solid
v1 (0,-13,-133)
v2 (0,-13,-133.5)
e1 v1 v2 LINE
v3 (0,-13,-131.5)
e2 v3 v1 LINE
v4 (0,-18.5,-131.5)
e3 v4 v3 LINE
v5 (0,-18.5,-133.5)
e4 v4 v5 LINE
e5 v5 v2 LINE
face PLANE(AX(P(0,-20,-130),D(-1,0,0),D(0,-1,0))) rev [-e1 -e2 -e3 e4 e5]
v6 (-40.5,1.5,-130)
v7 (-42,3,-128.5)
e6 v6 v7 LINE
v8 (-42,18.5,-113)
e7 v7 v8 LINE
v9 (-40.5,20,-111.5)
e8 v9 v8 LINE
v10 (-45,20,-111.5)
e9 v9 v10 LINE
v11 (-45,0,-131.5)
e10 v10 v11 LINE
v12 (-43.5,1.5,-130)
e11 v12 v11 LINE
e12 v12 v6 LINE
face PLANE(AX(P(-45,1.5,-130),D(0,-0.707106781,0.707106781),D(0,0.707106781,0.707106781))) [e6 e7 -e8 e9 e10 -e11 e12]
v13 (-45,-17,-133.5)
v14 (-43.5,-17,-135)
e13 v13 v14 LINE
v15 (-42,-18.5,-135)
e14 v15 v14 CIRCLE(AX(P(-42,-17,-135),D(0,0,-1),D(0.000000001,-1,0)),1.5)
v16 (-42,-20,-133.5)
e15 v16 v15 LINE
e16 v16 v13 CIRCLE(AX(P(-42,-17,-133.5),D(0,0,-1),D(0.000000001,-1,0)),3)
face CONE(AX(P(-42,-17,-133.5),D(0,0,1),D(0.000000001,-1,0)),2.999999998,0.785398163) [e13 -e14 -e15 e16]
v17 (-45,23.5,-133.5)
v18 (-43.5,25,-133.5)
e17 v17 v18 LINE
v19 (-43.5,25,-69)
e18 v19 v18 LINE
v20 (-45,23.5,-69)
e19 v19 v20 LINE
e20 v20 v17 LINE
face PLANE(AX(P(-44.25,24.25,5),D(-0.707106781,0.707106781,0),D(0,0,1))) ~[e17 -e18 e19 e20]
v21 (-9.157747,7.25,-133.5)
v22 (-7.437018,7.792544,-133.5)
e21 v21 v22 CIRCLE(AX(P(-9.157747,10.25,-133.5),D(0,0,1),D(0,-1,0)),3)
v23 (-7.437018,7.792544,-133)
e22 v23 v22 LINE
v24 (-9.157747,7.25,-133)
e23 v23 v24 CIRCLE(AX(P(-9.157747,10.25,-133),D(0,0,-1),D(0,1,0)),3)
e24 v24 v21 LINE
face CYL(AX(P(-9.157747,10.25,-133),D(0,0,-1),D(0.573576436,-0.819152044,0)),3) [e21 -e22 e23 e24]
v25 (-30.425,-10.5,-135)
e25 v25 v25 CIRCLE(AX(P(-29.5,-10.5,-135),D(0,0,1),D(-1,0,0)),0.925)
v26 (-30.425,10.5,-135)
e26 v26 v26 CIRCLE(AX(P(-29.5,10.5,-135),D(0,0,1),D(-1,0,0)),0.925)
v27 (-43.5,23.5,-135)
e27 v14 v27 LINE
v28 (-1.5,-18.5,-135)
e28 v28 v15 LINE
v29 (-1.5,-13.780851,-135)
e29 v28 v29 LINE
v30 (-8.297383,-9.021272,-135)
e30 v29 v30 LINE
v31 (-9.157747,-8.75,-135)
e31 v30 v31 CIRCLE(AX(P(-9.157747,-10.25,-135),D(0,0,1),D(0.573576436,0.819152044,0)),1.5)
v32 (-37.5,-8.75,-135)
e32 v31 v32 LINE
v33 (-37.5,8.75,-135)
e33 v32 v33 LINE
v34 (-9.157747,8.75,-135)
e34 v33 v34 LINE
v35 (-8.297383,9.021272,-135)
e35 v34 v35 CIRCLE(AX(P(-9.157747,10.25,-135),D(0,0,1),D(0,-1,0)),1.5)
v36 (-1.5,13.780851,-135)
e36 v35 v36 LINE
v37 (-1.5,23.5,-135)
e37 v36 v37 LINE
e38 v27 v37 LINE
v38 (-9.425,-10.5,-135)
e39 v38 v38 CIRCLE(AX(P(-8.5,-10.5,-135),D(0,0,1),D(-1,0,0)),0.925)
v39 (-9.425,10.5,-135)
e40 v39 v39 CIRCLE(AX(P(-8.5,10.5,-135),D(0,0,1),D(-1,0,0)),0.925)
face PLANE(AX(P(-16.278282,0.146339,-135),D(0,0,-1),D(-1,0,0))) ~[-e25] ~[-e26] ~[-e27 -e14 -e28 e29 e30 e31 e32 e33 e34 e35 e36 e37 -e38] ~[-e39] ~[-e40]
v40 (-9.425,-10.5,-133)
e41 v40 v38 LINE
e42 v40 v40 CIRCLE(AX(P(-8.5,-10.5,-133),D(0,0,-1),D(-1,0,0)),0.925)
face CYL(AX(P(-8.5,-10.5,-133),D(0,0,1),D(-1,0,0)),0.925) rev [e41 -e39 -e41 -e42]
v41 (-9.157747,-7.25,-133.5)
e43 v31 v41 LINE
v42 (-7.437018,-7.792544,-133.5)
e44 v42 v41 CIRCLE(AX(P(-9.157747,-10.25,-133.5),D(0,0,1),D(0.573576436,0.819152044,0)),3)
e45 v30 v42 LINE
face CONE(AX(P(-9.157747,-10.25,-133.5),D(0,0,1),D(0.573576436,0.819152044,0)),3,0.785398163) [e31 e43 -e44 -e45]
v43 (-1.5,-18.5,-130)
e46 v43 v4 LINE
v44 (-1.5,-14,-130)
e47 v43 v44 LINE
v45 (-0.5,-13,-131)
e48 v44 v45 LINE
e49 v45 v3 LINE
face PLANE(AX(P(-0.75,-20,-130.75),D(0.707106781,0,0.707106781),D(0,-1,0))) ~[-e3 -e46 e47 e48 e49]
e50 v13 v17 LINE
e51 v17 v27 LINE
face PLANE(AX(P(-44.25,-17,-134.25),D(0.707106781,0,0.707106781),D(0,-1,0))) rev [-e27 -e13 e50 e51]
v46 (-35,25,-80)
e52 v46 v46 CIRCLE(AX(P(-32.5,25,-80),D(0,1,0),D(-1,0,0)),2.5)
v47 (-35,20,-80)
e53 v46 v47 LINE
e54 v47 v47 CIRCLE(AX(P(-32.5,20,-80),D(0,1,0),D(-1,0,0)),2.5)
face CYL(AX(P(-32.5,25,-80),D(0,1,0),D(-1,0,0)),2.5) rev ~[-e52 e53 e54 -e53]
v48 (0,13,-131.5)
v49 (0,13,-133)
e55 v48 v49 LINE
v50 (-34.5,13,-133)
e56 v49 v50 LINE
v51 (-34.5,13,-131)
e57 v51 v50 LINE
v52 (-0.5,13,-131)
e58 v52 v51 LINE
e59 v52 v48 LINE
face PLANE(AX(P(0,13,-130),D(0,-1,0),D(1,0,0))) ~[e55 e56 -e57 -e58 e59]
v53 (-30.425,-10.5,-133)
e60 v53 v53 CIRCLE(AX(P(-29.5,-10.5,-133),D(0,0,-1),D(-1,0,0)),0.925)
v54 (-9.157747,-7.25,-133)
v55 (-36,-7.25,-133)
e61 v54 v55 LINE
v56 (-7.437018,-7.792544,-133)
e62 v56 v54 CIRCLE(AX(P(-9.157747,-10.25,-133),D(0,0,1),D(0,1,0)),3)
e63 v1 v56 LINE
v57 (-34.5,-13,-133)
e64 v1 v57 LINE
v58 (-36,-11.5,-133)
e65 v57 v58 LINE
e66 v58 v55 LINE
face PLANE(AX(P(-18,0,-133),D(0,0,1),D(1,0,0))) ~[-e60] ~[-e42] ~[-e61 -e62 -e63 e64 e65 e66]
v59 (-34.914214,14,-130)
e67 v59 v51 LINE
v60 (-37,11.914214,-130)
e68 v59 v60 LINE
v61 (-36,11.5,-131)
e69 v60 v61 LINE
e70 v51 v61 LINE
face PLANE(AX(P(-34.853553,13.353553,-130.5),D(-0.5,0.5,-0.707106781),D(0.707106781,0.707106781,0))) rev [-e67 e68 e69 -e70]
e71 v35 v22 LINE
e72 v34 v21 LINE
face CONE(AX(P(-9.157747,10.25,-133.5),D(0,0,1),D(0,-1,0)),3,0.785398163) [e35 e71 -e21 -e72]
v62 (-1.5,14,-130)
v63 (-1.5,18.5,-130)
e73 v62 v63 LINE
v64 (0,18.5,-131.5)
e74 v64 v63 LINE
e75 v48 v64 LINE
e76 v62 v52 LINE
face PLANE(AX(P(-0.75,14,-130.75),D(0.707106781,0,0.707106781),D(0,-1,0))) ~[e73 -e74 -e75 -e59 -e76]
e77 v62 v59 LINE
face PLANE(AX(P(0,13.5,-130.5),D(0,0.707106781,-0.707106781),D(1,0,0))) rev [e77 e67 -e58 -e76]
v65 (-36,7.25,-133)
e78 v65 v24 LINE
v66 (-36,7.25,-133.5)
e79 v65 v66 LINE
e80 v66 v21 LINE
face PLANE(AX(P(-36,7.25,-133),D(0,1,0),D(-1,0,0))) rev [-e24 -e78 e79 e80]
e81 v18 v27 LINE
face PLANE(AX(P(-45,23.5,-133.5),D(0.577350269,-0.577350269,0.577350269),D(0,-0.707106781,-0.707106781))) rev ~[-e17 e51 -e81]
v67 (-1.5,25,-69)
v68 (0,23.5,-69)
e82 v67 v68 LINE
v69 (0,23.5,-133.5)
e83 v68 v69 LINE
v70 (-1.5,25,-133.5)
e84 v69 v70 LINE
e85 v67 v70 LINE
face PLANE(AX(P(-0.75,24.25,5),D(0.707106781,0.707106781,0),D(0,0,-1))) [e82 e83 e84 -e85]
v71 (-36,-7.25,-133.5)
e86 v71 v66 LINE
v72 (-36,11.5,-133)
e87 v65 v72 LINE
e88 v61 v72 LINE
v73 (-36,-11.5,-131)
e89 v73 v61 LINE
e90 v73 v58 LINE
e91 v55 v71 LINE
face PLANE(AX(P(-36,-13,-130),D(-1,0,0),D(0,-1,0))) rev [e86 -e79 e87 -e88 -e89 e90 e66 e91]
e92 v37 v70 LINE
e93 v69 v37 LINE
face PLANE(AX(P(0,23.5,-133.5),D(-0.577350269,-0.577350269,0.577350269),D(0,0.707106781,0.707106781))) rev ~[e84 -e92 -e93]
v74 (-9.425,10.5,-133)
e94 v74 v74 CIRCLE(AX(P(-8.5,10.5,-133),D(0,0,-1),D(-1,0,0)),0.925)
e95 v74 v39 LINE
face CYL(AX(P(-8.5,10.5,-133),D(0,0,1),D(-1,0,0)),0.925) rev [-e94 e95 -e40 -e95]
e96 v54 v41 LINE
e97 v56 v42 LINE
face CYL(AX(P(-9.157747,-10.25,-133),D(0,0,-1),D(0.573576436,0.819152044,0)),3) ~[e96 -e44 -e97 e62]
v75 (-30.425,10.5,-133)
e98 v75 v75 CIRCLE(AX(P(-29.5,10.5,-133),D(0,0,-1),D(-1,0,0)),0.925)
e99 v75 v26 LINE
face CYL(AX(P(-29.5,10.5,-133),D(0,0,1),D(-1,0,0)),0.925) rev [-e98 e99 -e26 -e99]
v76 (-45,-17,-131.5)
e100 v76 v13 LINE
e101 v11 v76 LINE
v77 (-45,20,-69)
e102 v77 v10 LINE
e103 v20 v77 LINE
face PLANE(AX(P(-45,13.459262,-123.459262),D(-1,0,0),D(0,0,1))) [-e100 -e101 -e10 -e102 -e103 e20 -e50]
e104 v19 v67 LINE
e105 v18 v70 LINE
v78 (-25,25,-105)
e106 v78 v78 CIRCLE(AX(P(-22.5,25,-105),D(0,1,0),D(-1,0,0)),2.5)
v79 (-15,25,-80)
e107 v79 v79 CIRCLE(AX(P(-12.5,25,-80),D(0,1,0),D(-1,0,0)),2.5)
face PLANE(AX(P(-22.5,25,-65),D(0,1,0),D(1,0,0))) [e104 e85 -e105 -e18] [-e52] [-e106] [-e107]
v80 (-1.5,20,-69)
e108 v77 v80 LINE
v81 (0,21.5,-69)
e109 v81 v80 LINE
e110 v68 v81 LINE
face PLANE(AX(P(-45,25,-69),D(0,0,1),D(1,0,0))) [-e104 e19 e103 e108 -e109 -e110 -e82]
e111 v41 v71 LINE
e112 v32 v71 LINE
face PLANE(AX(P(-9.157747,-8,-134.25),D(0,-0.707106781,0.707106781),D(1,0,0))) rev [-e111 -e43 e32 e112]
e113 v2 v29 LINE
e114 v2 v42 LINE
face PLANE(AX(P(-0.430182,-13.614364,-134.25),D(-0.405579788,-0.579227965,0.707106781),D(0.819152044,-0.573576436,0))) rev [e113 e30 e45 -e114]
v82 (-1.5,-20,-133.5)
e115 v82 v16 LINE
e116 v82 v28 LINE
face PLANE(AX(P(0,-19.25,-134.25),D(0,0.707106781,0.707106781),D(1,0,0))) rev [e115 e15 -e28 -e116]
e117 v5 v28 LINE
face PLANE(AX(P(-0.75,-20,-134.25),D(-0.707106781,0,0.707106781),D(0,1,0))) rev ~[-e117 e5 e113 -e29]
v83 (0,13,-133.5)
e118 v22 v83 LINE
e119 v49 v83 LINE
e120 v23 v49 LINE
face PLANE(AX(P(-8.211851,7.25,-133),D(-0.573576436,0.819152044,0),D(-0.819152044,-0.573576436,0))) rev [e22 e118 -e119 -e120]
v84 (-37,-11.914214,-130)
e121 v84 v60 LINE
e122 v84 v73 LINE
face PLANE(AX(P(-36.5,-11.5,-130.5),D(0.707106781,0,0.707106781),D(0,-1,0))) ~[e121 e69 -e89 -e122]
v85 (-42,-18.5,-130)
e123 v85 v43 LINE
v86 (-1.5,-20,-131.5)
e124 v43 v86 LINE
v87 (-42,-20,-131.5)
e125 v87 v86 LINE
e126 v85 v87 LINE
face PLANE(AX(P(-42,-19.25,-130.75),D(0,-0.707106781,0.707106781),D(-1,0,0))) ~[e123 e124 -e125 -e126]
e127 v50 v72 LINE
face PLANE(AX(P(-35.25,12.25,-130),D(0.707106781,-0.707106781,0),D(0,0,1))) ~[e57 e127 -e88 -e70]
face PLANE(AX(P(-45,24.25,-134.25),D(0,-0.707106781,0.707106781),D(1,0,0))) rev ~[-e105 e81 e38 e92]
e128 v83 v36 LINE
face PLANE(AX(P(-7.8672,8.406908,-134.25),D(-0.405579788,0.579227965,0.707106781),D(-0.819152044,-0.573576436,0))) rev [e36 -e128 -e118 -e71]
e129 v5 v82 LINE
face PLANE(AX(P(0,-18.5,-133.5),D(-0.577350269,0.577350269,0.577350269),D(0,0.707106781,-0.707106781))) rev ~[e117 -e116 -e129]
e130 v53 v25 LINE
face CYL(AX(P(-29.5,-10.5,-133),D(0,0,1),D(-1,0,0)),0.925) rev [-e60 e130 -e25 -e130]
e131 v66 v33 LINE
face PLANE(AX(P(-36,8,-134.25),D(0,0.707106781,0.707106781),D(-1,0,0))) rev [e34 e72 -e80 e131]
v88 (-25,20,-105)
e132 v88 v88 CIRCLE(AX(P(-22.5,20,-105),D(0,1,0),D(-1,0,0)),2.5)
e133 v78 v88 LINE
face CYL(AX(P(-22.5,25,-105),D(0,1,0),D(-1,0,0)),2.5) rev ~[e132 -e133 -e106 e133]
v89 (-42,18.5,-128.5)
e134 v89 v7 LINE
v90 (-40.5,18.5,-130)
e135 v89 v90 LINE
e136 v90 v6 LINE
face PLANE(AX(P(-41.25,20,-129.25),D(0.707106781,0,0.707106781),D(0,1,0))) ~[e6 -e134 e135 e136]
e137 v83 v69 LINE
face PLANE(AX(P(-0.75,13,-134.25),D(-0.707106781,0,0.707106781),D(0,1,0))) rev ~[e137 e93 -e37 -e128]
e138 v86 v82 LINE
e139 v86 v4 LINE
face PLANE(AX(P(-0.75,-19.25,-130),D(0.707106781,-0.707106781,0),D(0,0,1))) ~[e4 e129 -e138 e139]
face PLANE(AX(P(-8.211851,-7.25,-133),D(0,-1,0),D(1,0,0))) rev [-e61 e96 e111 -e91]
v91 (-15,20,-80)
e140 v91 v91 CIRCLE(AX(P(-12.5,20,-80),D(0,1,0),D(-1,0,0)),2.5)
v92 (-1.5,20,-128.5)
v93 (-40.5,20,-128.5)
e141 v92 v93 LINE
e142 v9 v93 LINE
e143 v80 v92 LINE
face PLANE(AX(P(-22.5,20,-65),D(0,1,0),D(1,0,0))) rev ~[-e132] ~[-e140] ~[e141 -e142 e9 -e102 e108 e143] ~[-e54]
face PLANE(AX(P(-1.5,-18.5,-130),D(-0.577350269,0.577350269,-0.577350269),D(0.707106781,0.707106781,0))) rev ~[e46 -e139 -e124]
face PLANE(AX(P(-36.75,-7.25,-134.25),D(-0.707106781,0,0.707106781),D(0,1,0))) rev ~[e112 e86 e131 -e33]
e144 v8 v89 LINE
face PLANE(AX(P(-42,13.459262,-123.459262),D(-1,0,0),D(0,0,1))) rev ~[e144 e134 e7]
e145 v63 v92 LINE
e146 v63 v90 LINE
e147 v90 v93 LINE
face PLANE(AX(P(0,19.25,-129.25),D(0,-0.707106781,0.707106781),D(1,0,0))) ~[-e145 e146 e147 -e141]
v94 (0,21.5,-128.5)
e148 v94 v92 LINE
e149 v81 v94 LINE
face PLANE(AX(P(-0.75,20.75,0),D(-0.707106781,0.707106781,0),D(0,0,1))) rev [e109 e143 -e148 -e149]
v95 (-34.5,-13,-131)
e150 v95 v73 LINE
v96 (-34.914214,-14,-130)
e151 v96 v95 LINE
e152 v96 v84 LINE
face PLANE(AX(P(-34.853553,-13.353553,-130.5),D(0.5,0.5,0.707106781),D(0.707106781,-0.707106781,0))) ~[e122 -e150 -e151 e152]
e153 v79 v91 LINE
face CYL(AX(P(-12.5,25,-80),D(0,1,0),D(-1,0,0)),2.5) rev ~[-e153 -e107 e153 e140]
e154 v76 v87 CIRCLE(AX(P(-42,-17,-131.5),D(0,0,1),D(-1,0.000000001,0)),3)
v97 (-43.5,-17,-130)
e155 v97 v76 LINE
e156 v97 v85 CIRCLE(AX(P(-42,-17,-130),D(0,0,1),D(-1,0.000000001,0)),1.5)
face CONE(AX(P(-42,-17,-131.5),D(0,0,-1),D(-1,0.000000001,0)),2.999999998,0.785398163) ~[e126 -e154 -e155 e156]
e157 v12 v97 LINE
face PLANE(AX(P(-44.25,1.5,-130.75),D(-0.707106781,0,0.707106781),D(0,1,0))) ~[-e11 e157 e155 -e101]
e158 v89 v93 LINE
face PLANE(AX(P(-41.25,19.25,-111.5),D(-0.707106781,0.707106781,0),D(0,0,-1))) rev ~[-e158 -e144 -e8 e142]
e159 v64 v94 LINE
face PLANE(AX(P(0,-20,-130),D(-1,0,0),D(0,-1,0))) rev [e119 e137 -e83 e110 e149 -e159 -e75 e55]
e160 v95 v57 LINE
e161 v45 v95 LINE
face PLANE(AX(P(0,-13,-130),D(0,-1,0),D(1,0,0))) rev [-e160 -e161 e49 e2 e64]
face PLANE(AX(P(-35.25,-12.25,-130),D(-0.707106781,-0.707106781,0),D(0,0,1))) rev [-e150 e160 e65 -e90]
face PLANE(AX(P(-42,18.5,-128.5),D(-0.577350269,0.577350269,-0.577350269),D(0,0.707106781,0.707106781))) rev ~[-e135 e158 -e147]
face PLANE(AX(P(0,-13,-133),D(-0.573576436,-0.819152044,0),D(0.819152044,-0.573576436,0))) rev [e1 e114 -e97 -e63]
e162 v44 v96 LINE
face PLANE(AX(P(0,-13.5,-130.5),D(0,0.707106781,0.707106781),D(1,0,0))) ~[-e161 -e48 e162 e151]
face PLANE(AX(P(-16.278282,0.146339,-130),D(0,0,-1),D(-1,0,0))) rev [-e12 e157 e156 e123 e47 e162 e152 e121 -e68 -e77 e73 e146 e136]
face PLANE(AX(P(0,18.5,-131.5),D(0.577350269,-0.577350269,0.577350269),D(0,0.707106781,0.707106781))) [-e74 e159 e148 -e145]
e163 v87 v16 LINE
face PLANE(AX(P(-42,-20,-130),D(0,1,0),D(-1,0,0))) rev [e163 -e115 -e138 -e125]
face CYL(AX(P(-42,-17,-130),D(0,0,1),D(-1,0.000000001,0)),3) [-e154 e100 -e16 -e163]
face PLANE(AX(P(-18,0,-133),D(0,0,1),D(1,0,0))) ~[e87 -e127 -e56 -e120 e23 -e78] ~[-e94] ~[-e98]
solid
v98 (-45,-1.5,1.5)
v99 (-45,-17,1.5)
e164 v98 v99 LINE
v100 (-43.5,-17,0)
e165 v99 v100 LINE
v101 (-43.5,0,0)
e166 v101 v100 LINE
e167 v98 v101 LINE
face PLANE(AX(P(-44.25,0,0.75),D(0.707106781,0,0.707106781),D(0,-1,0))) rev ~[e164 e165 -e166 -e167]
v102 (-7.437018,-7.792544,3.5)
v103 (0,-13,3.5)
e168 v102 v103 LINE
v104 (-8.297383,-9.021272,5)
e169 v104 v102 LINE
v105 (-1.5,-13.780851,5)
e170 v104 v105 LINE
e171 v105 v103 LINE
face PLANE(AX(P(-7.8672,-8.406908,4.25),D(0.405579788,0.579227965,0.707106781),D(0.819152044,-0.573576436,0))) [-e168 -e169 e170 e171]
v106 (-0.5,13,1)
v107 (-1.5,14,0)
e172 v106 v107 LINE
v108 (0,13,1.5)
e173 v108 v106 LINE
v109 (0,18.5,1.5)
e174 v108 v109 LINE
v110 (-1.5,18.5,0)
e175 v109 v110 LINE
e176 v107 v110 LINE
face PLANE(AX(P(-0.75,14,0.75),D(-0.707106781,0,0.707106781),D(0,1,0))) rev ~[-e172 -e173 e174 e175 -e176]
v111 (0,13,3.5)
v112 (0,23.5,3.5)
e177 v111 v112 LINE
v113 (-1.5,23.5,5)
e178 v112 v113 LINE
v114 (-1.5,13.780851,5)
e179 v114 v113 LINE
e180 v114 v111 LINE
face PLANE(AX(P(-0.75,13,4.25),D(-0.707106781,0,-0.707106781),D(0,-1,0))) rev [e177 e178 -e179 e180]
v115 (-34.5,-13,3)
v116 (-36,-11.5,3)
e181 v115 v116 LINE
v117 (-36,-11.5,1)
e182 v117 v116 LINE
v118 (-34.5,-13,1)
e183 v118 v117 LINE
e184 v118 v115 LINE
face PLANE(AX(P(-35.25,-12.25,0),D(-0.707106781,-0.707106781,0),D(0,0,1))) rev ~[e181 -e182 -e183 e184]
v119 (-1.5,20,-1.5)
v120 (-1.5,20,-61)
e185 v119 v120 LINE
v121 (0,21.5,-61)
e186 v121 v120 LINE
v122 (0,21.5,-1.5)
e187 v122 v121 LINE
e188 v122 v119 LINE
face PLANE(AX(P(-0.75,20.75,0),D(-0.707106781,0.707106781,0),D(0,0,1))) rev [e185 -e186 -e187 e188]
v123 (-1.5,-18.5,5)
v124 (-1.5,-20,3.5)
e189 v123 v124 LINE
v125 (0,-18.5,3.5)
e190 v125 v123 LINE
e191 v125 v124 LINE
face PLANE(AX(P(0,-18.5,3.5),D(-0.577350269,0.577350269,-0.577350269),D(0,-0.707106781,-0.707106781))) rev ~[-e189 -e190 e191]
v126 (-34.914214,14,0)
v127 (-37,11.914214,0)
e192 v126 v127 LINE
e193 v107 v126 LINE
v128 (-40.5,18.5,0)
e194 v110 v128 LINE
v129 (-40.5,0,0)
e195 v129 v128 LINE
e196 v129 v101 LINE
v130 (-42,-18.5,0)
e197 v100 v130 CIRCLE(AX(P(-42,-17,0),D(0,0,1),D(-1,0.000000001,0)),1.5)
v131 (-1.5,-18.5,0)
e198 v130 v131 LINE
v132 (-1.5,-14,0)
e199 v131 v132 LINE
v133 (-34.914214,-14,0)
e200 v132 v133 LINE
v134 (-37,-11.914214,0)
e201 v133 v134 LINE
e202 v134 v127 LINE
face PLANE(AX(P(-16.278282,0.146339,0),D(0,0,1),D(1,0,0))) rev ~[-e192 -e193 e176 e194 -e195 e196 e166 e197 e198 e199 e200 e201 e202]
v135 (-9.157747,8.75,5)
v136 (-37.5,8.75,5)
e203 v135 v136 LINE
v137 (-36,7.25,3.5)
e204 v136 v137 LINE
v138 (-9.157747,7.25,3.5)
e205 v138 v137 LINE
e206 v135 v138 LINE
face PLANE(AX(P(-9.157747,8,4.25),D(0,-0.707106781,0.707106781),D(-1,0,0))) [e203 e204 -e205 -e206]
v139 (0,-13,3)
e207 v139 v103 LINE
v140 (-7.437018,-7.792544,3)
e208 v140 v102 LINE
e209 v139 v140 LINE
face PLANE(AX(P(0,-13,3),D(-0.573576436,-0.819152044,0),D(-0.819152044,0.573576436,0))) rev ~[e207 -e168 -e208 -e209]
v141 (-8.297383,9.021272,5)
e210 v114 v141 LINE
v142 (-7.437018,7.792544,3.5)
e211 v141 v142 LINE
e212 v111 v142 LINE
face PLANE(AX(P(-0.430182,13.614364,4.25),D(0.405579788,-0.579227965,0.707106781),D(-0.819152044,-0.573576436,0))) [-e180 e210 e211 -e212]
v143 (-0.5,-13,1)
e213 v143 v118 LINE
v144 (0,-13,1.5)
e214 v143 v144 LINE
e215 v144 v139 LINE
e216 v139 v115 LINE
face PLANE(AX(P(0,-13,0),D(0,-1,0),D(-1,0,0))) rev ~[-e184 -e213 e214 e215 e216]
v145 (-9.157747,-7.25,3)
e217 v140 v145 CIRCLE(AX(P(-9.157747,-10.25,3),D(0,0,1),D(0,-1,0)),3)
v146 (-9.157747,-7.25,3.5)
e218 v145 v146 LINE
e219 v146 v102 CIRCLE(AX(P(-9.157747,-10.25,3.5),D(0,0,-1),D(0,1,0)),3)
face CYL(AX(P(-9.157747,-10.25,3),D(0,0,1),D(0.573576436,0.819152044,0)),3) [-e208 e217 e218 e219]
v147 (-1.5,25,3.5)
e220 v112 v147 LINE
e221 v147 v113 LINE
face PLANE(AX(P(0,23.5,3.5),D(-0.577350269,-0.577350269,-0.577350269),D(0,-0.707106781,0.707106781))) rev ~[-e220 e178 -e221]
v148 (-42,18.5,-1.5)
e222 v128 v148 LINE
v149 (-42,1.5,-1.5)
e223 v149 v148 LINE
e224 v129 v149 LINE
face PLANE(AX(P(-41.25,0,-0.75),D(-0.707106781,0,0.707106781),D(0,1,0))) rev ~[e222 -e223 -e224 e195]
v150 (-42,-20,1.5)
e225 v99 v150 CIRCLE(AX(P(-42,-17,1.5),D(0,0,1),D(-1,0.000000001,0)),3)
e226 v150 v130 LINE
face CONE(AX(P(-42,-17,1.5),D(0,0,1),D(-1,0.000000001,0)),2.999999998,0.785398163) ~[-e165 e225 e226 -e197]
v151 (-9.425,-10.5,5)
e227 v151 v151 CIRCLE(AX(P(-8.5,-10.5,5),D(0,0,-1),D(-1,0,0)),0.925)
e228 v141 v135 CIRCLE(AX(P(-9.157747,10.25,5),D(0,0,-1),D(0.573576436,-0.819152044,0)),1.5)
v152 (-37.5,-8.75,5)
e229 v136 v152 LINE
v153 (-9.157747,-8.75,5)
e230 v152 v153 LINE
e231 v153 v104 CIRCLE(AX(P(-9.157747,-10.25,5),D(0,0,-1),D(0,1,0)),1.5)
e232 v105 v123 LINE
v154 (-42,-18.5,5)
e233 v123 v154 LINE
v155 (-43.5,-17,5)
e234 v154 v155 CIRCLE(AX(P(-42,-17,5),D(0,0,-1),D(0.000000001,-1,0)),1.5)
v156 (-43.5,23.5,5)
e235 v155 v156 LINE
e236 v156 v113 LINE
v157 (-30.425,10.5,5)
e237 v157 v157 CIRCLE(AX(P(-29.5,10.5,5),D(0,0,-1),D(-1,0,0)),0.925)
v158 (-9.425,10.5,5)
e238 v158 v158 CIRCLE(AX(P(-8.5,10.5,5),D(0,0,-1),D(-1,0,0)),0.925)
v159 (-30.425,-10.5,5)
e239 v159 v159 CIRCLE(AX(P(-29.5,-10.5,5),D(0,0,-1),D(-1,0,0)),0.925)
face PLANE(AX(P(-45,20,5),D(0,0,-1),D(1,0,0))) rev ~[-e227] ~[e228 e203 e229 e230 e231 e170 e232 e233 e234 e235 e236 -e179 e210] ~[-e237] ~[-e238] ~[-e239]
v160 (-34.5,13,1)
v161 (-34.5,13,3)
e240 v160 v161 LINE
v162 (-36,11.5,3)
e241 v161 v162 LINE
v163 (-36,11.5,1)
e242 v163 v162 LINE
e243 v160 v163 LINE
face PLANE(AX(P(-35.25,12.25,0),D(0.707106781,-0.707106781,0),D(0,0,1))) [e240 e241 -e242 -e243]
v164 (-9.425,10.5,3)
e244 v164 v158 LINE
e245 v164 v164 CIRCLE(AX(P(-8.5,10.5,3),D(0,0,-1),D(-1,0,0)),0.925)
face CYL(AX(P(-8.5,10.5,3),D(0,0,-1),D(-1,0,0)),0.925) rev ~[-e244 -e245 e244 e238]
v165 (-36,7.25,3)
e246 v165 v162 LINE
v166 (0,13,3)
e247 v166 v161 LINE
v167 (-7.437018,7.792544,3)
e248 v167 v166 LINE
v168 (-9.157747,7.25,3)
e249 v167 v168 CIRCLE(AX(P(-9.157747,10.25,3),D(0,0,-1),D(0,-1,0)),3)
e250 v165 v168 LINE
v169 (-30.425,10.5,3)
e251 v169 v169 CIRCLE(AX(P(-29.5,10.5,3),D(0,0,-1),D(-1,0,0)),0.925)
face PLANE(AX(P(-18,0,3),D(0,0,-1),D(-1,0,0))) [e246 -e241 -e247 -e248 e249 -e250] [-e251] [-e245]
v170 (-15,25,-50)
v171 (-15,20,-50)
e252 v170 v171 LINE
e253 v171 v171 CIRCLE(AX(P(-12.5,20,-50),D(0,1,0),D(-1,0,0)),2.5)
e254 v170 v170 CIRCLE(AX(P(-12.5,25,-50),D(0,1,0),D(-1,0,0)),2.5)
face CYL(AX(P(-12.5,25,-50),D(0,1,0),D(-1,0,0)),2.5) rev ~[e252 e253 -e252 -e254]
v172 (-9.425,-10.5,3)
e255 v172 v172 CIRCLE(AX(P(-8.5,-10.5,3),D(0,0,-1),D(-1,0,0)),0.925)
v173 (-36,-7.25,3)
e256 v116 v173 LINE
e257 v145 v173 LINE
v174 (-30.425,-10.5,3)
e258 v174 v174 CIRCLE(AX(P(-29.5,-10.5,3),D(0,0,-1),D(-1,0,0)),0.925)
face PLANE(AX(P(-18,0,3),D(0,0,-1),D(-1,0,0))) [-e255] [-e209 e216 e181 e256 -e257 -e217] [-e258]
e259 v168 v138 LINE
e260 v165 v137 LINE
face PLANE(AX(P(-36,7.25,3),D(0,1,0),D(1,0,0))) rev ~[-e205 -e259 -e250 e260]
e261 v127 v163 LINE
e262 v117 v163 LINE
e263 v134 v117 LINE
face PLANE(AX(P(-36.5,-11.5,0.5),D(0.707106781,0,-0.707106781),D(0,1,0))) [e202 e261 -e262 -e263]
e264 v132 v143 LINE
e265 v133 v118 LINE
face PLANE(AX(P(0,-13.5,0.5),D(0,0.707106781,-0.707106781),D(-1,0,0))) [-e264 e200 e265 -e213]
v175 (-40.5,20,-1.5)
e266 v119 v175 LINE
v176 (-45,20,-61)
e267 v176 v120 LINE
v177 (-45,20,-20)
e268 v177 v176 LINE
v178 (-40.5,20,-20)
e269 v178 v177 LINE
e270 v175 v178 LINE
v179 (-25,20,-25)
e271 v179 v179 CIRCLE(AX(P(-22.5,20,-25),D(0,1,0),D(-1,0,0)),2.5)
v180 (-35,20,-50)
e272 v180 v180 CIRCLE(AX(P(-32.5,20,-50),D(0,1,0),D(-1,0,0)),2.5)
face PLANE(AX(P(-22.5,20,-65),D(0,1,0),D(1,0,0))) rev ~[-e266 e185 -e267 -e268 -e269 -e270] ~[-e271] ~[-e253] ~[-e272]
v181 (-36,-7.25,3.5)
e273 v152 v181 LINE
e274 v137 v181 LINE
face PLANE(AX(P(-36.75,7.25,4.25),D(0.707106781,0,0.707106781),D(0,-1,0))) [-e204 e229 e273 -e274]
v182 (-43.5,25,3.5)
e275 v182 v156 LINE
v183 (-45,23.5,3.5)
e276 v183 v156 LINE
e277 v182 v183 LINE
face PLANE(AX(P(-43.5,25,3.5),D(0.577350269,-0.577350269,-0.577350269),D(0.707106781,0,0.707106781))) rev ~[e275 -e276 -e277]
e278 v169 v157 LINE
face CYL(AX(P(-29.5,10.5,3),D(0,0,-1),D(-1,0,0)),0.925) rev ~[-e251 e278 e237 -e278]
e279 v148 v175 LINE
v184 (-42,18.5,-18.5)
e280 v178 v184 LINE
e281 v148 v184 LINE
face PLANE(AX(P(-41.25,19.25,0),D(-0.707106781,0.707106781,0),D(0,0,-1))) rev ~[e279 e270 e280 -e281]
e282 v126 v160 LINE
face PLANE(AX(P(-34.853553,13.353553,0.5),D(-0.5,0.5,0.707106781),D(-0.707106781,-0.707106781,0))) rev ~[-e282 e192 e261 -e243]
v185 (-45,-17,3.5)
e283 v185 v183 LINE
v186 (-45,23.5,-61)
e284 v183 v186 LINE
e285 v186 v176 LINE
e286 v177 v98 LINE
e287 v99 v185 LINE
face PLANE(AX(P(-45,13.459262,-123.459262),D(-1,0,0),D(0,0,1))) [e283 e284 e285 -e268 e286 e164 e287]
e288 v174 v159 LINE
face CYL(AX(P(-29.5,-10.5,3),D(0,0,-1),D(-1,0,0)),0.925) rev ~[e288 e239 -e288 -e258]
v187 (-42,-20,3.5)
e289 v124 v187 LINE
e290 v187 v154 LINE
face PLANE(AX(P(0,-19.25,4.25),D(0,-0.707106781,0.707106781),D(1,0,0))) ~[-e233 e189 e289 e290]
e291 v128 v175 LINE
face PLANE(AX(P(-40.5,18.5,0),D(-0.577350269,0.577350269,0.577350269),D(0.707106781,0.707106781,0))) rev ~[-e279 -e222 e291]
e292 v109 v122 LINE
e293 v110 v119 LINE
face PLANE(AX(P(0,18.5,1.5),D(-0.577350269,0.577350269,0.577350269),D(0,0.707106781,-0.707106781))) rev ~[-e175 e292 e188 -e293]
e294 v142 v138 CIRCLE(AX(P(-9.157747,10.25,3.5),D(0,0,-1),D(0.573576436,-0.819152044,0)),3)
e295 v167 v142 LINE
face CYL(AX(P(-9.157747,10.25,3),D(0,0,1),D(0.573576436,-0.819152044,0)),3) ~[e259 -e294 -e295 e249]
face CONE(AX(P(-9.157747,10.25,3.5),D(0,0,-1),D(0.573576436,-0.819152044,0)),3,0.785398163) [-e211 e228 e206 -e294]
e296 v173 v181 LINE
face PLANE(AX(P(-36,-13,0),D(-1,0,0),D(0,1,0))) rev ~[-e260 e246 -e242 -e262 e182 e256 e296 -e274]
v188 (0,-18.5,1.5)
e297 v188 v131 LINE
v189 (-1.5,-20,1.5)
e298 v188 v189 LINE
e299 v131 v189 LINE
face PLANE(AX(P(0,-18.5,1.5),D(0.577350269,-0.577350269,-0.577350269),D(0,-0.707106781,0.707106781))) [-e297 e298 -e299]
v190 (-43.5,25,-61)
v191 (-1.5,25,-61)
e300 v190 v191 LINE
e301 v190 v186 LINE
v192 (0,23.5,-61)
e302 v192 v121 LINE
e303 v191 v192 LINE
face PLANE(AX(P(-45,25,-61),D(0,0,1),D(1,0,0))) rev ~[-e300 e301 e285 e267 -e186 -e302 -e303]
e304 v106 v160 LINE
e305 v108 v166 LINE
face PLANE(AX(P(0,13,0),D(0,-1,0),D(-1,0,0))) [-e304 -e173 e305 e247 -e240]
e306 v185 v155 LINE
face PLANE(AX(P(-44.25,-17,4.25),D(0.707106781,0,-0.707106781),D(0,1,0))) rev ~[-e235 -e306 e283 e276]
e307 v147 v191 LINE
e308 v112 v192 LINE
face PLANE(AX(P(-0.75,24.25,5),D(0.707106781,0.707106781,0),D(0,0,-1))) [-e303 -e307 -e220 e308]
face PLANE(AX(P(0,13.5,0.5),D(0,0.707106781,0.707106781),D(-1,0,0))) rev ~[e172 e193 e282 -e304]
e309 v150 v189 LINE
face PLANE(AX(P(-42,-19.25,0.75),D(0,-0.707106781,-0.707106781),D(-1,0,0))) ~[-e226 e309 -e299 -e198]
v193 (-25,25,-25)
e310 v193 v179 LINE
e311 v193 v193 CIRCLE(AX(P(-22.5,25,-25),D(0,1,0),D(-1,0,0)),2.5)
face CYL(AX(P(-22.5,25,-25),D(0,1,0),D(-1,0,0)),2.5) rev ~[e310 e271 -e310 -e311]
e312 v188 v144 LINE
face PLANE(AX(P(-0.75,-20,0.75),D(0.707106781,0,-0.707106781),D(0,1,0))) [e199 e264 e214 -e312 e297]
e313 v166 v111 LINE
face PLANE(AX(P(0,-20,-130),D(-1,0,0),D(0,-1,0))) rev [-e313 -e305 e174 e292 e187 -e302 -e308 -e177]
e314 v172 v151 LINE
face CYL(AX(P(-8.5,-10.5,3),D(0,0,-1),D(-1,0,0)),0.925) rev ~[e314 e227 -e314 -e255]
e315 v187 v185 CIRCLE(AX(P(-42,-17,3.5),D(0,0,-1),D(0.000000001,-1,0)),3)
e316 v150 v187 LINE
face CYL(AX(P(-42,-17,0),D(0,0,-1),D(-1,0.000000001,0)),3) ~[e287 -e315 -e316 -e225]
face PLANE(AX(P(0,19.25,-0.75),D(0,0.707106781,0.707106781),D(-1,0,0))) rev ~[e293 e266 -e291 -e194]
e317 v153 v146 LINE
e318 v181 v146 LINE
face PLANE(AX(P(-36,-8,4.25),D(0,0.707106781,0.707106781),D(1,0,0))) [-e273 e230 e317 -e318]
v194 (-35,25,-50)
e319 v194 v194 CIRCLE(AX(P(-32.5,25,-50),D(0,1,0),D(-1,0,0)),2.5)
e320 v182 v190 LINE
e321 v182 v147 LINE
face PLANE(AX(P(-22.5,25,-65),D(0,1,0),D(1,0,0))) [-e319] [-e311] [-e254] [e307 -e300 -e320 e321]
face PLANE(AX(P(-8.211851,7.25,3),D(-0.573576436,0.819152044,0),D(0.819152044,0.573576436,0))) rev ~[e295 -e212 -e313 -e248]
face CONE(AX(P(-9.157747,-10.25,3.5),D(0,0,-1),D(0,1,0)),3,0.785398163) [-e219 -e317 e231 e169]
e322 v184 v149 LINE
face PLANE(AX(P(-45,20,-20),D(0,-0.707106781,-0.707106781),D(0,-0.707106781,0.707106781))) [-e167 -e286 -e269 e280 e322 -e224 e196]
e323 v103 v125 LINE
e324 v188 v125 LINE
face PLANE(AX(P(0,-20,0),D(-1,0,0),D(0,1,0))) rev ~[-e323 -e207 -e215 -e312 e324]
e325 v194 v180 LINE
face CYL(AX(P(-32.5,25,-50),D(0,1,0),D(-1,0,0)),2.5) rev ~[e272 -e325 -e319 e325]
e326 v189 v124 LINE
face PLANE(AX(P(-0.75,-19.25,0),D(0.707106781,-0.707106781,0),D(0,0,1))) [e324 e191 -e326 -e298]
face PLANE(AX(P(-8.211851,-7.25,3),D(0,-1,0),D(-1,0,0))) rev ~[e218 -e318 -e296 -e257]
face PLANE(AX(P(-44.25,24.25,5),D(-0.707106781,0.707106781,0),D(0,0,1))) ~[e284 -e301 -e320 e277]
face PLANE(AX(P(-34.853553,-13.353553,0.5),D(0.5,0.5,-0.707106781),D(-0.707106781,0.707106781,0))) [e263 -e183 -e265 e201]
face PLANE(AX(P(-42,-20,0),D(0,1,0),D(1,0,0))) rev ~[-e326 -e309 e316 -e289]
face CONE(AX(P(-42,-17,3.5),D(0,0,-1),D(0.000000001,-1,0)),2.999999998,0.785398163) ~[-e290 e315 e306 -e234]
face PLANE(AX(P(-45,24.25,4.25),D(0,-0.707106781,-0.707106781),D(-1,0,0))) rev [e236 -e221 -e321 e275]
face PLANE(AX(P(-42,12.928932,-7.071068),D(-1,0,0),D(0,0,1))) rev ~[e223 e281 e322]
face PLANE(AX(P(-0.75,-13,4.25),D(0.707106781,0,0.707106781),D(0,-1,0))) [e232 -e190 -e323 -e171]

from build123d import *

# Parameters (mm, degrees)
EXTRUDE_1_DEPTH            = 5
SKETCH_2_W                 = 36
SKETCH_2_H                 = 26
CUT_EXTRUDE_1_DEPTH        = 3
CUT_EXTRUDE_2_DEPTH        = 50.497474683
SKETCH_4_R                 = 0.925
CUT_EXTRUDE_3_DEPTH        = 50.335585534
CHAMFER_1_SIZE             = 1.5
CHAMFER_2_SIZE             = 1
FILLET_3_R                 = 3
SKETCH_7_W                 = 45
SKETCH_7_H                 = 140
EXTRUDE_2_DEPTH            = 5
SKETCH_9_R                 = 2.5
CUT_EXTRUDE_5_DEPTH        = 150.248115566
CHAMFER_1_OF_MIRROR_1_SIZE = 1.5
CHAMFER_2_OF_MIRROR_1_SIZE = 1
FILLET_3_OF_MIRROR_1_R     = 3
EXTRUDE_3_DEPTH            = 3
CHAMFER_4_SIZE             = 1.5
SKETCH_12_W                = 45
SKETCH_12_H                = 8
CUT_EXTRUDE_6_DEPTH        = 150.248115566


with BuildPart() as part:
    # 草图1 → 凸台-拉伸1 (new body)
    with BuildSketch(Plane.XY):
        with BuildLine():
            Line((-42, -20), (0, -20))
            ThreePointArc((0, -20), (20, 0), (0, 20))
            Line((0, 20), (-45, 20))
            Line((-45, 20), (-45, -17))
            ThreePointArc((-45, -17), (-44.121320344, -19.121320344), (-42, -20))
        make_face()
    extrude_1 = extrude(amount=EXTRUDE_1_DEPTH)

    # 草图2 → 切除-拉伸1 (cut)
    with BuildSketch(Plane(origin=(0, 0, 0), x_dir=(-1, 0, 0), z_dir=(0, 0, -1))):
        with Locations((18, 0)):
            Rectangle(SKETCH_2_W, SKETCH_2_H)
    cut_extrude_1 = extrude(amount=-CUT_EXTRUDE_1_DEPTH, mode=Mode.SUBTRACT)

    # 草图3 → 切除-拉伸2 (cut, through all)
    with BuildSketch(Plane(origin=(0, 0, 0), x_dir=(-1, 0, 0), z_dir=(0, 0, -1))):
        with BuildLine():
            Line((0, -20), (0, 20))
            ThreePointArc((0, 20), (-20, 0), (0, -20))
        make_face()
    cut_extrude_2 = extrude(amount=-CUT_EXTRUDE_2_DEPTH, mode=Mode.SUBTRACT)

    # 草图4 → 切除-拉伸3 (cut, through all)
    with BuildSketch(Plane(origin=(0, 0, 3), x_dir=(-1, 0, 0), z_dir=(0, 0, -1))):
        with Locations((8.5, 10.5)):
            Circle(SKETCH_4_R)
        with Locations((8.5, -10.5)):
            Circle(SKETCH_4_R)
        with Locations((29.5, 10.5)):
            Circle(SKETCH_4_R)
        with Locations((29.5, -10.5)):
            Circle(SKETCH_4_R)
        Polygon((8.211851039, -7.25), (36, -7.25), (36, 7.25), (8.211851039, 7.25), (0, 13), (0, -13), align=None)
    cut_extrude_3 = extrude(amount=-CUT_EXTRUDE_3_DEPTH, mode=Mode.SUBTRACT)

    # 倒角1
    chamfer_1_edges = [part.edges().sort_by_distance(p)[0] for p in [
        (-36, 13, 1.5),
        (-36, -13, 1.5),
    ]]
    chamfer(chamfer_1_edges, length=CHAMFER_1_SIZE)

    # 倒角2
    chamfer_2_edges = [part.edges().sort_by_distance(p)[0] for p in [
        (-17.25, -13, 0),
        (-17.25, 13, 0),
        (-36, 0, 0),
        (-35.25, 12.25, 0),
        (-35.25, -12.25, 0),
    ]]
    chamfer(chamfer_2_edges, length=CHAMFER_2_SIZE)

    # 圆角3
    fillet_3_edges = [part.edges().sort_by_distance(p)[0] for p in [
        (-8.211851039, 7.25, 4),
        (-8.211851039, -7.25, 4),
    ]]
    fillet(fillet_3_edges, radius=FILLET_3_R)

    # 草图7 → 凸台-拉伸2 (add)
    with BuildSketch(Plane(origin=(0, 20, 0), x_dir=(1, 0, 0), z_dir=(0, 1, 0))):
        with Locations((-22.5, 65)):
            Rectangle(SKETCH_7_W, SKETCH_7_H)
    extrude(amount=EXTRUDE_2_DEPTH)

    # 草图9 → 切除-拉伸5 (cut, through all)
    with BuildSketch(Plane(origin=(0, 25, 0), x_dir=(1, 0, 0), z_dir=(0, 1, 0))):
        with Locations(Location((-12.5, 80, 0), (0, 0, 180))):
            Circle(SKETCH_9_R)
        with Locations(Location((-32.5, 80, 0), (0, 0, 180))):
            Circle(SKETCH_9_R)
        with Locations(Location((-32.5, 50, 0), (0, 0, 180))):
            Circle(SKETCH_9_R)
        with Locations(Location((-12.5, 50, 0), (0, 0, 180))):
            Circle(SKETCH_9_R)
        with Locations(Location((-22.5, 25, 0), (0, 0, 180))):
            Circle(SKETCH_9_R)
        with Locations(Location((-22.5, 105, 0), (0, 0, 180))):
            Circle(SKETCH_9_R)
    extrude(amount=-CUT_EXTRUDE_5_DEPTH, mode=Mode.SUBTRACT)

    # 镜向1: 凸台-拉伸1, 切除-拉伸1, 切除-拉伸2, 切除-拉伸3 across plane
    add(extrude_1.mirror(Plane.XY.offset(-65)))
    add(cut_extrude_1.mirror(Plane.XY.offset(-65)), mode=Mode.SUBTRACT)
    add(cut_extrude_2.mirror(Plane.XY.offset(-65)), mode=Mode.SUBTRACT)
    add(cut_extrude_3.mirror(Plane.XY.offset(-65)), mode=Mode.SUBTRACT)

    # 倒角1 of 镜向1
    chamfer_1_of_mirror_1_edges = [part.edges().sort_by_distance(p)[0] for p in [
        (-36, 13, -131.5),
        (-36, -13, -131.5),
    ]]
    chamfer(chamfer_1_of_mirror_1_edges, length=CHAMFER_1_OF_MIRROR_1_SIZE)

    # 倒角2 of 镜向1
    chamfer_2_of_mirror_1_edges = [part.edges().sort_by_distance(p)[0] for p in [
        (-17.25, -13, -130),
        (-17.25, 13, -130),
        (-36, 0, -130),
        (-35.25, 12.25, -130),
        (-35.25, -12.25, -130),
    ]]
    chamfer(chamfer_2_of_mirror_1_edges, length=CHAMFER_2_OF_MIRROR_1_SIZE)

    # 圆角3 of 镜向1
    fillet_3_of_mirror_1_edges = [part.edges().sort_by_distance(p)[0] for p in [
        (-8.211851039, 7.25, -134),
        (-8.211851039, -7.25, -134),
    ]]
    fillet(fillet_3_of_mirror_1_edges, radius=FILLET_3_OF_MIRROR_1_R)

    # 草图11 → 凸台-拉伸3 (add)
    with BuildSketch(Plane.ZY.offset(45)):
        Polygon((-130, 20), (-130, 1.5), (-111.5, 20), align=None)
        Polygon((0, 20), (-20, 20), (0, 0), align=None)
    extrude(amount=-EXTRUDE_3_DEPTH)

    # 倒角4
    chamfer_4_edges = [part.edges().sort_by_distance(p)[0] for p in [
        (-22.578873703, -7.25, 5),
        (-3.718509048, 10.396271934, 5),
        (-8.255630007, 7.388849148, 5),
        (-8.255630007, -7.388849148, 5),
        (-45, 4, 5),
        (0, 20, -65),
        (-22.5, 25, -135),
        (0, 19, -135),
        (-45, 25, -65),
        (-45, 4, -135),
        (-22.5, 25, 5),
        (0, 25, -65),
        (-44.121320344, -19.121320344, 5),
        (-21, -20, -135),
        (0, -20, -132.5),
        (-44.121320344, -19.121320344, -135),
        (-21, 20, -130),
        (-44.121320344, -19.121320344, -130),
        (-21, -20, -130),
        (0, -17, -130),
        (-21, -20, 5),
        (0, -16.5, -135),
        (-3.718509048, -10.396271934, -135),
        (-36, 0, -135),
        (-22.578873703, 7.25, -135),
        (0, 17, -130),
        (-22.578873703, -7.25, -135),
        (-3.718509048, 10.396271934, -135),
        (-8.255630007, 7.388849148, -135),
        (-8.255630007, -7.388849148, -135),
        (-45, -8.5, 0),
        (-42, 20, -10),
        (-42, 10, 0),
        (-45, -7.75, -130),
        (-42, 10.75, -130),
        (-42, 20, -120.75),
        (0, -16.5, 5),
        (0, -17, 0),
        (0, 19, 5),
        (-21, -20, 0),
        (-22.578873703, 7.25, 5),
        (-36, 0, 5),
        (-3.718509048, -10.396271934, 5),
        (-44.121320344, -19.121320344, 0),
        (-21, 20, 0),
        (0, -20, 2.5),
        (0, 17, 0),
    ]]
    chamfer(chamfer_4_edges, length=CHAMFER_4_SIZE)

    # 草图12 → 切除-拉伸6 (cut, through all)
    with BuildSketch(Plane(origin=(0, 25, 0), x_dir=(1, 0, 0), z_dir=(0, 1, 0))):
        with Locations((-22.5, 65)):
            Rectangle(SKETCH_12_W, SKETCH_12_H)
    extrude(amount=-CUT_EXTRUDE_6_DEPTH, mode=Mode.SUBTRACT)


with BuildPart() as cut_extrude_6_piece_1:
    # of the separate pieces the step leaves, piece 1, a body of its own (cut_extrude_6_pieces)
    add(part.part.solids().sort_by_distance((0, 23.5, -61))[0])


with BuildPart() as cut_extrude_6_piece_2:
    # of the separate pieces the step leaves, piece 2, a body of its own (cut_extrude_6_pieces)
    add(part.part.solids().sort_by_distance((-7.437018096, 7.792543867, -133.5))[0])


solid = Compound([cut_extrude_6_piece_1.part, cut_extrude_6_piece_2.part])
